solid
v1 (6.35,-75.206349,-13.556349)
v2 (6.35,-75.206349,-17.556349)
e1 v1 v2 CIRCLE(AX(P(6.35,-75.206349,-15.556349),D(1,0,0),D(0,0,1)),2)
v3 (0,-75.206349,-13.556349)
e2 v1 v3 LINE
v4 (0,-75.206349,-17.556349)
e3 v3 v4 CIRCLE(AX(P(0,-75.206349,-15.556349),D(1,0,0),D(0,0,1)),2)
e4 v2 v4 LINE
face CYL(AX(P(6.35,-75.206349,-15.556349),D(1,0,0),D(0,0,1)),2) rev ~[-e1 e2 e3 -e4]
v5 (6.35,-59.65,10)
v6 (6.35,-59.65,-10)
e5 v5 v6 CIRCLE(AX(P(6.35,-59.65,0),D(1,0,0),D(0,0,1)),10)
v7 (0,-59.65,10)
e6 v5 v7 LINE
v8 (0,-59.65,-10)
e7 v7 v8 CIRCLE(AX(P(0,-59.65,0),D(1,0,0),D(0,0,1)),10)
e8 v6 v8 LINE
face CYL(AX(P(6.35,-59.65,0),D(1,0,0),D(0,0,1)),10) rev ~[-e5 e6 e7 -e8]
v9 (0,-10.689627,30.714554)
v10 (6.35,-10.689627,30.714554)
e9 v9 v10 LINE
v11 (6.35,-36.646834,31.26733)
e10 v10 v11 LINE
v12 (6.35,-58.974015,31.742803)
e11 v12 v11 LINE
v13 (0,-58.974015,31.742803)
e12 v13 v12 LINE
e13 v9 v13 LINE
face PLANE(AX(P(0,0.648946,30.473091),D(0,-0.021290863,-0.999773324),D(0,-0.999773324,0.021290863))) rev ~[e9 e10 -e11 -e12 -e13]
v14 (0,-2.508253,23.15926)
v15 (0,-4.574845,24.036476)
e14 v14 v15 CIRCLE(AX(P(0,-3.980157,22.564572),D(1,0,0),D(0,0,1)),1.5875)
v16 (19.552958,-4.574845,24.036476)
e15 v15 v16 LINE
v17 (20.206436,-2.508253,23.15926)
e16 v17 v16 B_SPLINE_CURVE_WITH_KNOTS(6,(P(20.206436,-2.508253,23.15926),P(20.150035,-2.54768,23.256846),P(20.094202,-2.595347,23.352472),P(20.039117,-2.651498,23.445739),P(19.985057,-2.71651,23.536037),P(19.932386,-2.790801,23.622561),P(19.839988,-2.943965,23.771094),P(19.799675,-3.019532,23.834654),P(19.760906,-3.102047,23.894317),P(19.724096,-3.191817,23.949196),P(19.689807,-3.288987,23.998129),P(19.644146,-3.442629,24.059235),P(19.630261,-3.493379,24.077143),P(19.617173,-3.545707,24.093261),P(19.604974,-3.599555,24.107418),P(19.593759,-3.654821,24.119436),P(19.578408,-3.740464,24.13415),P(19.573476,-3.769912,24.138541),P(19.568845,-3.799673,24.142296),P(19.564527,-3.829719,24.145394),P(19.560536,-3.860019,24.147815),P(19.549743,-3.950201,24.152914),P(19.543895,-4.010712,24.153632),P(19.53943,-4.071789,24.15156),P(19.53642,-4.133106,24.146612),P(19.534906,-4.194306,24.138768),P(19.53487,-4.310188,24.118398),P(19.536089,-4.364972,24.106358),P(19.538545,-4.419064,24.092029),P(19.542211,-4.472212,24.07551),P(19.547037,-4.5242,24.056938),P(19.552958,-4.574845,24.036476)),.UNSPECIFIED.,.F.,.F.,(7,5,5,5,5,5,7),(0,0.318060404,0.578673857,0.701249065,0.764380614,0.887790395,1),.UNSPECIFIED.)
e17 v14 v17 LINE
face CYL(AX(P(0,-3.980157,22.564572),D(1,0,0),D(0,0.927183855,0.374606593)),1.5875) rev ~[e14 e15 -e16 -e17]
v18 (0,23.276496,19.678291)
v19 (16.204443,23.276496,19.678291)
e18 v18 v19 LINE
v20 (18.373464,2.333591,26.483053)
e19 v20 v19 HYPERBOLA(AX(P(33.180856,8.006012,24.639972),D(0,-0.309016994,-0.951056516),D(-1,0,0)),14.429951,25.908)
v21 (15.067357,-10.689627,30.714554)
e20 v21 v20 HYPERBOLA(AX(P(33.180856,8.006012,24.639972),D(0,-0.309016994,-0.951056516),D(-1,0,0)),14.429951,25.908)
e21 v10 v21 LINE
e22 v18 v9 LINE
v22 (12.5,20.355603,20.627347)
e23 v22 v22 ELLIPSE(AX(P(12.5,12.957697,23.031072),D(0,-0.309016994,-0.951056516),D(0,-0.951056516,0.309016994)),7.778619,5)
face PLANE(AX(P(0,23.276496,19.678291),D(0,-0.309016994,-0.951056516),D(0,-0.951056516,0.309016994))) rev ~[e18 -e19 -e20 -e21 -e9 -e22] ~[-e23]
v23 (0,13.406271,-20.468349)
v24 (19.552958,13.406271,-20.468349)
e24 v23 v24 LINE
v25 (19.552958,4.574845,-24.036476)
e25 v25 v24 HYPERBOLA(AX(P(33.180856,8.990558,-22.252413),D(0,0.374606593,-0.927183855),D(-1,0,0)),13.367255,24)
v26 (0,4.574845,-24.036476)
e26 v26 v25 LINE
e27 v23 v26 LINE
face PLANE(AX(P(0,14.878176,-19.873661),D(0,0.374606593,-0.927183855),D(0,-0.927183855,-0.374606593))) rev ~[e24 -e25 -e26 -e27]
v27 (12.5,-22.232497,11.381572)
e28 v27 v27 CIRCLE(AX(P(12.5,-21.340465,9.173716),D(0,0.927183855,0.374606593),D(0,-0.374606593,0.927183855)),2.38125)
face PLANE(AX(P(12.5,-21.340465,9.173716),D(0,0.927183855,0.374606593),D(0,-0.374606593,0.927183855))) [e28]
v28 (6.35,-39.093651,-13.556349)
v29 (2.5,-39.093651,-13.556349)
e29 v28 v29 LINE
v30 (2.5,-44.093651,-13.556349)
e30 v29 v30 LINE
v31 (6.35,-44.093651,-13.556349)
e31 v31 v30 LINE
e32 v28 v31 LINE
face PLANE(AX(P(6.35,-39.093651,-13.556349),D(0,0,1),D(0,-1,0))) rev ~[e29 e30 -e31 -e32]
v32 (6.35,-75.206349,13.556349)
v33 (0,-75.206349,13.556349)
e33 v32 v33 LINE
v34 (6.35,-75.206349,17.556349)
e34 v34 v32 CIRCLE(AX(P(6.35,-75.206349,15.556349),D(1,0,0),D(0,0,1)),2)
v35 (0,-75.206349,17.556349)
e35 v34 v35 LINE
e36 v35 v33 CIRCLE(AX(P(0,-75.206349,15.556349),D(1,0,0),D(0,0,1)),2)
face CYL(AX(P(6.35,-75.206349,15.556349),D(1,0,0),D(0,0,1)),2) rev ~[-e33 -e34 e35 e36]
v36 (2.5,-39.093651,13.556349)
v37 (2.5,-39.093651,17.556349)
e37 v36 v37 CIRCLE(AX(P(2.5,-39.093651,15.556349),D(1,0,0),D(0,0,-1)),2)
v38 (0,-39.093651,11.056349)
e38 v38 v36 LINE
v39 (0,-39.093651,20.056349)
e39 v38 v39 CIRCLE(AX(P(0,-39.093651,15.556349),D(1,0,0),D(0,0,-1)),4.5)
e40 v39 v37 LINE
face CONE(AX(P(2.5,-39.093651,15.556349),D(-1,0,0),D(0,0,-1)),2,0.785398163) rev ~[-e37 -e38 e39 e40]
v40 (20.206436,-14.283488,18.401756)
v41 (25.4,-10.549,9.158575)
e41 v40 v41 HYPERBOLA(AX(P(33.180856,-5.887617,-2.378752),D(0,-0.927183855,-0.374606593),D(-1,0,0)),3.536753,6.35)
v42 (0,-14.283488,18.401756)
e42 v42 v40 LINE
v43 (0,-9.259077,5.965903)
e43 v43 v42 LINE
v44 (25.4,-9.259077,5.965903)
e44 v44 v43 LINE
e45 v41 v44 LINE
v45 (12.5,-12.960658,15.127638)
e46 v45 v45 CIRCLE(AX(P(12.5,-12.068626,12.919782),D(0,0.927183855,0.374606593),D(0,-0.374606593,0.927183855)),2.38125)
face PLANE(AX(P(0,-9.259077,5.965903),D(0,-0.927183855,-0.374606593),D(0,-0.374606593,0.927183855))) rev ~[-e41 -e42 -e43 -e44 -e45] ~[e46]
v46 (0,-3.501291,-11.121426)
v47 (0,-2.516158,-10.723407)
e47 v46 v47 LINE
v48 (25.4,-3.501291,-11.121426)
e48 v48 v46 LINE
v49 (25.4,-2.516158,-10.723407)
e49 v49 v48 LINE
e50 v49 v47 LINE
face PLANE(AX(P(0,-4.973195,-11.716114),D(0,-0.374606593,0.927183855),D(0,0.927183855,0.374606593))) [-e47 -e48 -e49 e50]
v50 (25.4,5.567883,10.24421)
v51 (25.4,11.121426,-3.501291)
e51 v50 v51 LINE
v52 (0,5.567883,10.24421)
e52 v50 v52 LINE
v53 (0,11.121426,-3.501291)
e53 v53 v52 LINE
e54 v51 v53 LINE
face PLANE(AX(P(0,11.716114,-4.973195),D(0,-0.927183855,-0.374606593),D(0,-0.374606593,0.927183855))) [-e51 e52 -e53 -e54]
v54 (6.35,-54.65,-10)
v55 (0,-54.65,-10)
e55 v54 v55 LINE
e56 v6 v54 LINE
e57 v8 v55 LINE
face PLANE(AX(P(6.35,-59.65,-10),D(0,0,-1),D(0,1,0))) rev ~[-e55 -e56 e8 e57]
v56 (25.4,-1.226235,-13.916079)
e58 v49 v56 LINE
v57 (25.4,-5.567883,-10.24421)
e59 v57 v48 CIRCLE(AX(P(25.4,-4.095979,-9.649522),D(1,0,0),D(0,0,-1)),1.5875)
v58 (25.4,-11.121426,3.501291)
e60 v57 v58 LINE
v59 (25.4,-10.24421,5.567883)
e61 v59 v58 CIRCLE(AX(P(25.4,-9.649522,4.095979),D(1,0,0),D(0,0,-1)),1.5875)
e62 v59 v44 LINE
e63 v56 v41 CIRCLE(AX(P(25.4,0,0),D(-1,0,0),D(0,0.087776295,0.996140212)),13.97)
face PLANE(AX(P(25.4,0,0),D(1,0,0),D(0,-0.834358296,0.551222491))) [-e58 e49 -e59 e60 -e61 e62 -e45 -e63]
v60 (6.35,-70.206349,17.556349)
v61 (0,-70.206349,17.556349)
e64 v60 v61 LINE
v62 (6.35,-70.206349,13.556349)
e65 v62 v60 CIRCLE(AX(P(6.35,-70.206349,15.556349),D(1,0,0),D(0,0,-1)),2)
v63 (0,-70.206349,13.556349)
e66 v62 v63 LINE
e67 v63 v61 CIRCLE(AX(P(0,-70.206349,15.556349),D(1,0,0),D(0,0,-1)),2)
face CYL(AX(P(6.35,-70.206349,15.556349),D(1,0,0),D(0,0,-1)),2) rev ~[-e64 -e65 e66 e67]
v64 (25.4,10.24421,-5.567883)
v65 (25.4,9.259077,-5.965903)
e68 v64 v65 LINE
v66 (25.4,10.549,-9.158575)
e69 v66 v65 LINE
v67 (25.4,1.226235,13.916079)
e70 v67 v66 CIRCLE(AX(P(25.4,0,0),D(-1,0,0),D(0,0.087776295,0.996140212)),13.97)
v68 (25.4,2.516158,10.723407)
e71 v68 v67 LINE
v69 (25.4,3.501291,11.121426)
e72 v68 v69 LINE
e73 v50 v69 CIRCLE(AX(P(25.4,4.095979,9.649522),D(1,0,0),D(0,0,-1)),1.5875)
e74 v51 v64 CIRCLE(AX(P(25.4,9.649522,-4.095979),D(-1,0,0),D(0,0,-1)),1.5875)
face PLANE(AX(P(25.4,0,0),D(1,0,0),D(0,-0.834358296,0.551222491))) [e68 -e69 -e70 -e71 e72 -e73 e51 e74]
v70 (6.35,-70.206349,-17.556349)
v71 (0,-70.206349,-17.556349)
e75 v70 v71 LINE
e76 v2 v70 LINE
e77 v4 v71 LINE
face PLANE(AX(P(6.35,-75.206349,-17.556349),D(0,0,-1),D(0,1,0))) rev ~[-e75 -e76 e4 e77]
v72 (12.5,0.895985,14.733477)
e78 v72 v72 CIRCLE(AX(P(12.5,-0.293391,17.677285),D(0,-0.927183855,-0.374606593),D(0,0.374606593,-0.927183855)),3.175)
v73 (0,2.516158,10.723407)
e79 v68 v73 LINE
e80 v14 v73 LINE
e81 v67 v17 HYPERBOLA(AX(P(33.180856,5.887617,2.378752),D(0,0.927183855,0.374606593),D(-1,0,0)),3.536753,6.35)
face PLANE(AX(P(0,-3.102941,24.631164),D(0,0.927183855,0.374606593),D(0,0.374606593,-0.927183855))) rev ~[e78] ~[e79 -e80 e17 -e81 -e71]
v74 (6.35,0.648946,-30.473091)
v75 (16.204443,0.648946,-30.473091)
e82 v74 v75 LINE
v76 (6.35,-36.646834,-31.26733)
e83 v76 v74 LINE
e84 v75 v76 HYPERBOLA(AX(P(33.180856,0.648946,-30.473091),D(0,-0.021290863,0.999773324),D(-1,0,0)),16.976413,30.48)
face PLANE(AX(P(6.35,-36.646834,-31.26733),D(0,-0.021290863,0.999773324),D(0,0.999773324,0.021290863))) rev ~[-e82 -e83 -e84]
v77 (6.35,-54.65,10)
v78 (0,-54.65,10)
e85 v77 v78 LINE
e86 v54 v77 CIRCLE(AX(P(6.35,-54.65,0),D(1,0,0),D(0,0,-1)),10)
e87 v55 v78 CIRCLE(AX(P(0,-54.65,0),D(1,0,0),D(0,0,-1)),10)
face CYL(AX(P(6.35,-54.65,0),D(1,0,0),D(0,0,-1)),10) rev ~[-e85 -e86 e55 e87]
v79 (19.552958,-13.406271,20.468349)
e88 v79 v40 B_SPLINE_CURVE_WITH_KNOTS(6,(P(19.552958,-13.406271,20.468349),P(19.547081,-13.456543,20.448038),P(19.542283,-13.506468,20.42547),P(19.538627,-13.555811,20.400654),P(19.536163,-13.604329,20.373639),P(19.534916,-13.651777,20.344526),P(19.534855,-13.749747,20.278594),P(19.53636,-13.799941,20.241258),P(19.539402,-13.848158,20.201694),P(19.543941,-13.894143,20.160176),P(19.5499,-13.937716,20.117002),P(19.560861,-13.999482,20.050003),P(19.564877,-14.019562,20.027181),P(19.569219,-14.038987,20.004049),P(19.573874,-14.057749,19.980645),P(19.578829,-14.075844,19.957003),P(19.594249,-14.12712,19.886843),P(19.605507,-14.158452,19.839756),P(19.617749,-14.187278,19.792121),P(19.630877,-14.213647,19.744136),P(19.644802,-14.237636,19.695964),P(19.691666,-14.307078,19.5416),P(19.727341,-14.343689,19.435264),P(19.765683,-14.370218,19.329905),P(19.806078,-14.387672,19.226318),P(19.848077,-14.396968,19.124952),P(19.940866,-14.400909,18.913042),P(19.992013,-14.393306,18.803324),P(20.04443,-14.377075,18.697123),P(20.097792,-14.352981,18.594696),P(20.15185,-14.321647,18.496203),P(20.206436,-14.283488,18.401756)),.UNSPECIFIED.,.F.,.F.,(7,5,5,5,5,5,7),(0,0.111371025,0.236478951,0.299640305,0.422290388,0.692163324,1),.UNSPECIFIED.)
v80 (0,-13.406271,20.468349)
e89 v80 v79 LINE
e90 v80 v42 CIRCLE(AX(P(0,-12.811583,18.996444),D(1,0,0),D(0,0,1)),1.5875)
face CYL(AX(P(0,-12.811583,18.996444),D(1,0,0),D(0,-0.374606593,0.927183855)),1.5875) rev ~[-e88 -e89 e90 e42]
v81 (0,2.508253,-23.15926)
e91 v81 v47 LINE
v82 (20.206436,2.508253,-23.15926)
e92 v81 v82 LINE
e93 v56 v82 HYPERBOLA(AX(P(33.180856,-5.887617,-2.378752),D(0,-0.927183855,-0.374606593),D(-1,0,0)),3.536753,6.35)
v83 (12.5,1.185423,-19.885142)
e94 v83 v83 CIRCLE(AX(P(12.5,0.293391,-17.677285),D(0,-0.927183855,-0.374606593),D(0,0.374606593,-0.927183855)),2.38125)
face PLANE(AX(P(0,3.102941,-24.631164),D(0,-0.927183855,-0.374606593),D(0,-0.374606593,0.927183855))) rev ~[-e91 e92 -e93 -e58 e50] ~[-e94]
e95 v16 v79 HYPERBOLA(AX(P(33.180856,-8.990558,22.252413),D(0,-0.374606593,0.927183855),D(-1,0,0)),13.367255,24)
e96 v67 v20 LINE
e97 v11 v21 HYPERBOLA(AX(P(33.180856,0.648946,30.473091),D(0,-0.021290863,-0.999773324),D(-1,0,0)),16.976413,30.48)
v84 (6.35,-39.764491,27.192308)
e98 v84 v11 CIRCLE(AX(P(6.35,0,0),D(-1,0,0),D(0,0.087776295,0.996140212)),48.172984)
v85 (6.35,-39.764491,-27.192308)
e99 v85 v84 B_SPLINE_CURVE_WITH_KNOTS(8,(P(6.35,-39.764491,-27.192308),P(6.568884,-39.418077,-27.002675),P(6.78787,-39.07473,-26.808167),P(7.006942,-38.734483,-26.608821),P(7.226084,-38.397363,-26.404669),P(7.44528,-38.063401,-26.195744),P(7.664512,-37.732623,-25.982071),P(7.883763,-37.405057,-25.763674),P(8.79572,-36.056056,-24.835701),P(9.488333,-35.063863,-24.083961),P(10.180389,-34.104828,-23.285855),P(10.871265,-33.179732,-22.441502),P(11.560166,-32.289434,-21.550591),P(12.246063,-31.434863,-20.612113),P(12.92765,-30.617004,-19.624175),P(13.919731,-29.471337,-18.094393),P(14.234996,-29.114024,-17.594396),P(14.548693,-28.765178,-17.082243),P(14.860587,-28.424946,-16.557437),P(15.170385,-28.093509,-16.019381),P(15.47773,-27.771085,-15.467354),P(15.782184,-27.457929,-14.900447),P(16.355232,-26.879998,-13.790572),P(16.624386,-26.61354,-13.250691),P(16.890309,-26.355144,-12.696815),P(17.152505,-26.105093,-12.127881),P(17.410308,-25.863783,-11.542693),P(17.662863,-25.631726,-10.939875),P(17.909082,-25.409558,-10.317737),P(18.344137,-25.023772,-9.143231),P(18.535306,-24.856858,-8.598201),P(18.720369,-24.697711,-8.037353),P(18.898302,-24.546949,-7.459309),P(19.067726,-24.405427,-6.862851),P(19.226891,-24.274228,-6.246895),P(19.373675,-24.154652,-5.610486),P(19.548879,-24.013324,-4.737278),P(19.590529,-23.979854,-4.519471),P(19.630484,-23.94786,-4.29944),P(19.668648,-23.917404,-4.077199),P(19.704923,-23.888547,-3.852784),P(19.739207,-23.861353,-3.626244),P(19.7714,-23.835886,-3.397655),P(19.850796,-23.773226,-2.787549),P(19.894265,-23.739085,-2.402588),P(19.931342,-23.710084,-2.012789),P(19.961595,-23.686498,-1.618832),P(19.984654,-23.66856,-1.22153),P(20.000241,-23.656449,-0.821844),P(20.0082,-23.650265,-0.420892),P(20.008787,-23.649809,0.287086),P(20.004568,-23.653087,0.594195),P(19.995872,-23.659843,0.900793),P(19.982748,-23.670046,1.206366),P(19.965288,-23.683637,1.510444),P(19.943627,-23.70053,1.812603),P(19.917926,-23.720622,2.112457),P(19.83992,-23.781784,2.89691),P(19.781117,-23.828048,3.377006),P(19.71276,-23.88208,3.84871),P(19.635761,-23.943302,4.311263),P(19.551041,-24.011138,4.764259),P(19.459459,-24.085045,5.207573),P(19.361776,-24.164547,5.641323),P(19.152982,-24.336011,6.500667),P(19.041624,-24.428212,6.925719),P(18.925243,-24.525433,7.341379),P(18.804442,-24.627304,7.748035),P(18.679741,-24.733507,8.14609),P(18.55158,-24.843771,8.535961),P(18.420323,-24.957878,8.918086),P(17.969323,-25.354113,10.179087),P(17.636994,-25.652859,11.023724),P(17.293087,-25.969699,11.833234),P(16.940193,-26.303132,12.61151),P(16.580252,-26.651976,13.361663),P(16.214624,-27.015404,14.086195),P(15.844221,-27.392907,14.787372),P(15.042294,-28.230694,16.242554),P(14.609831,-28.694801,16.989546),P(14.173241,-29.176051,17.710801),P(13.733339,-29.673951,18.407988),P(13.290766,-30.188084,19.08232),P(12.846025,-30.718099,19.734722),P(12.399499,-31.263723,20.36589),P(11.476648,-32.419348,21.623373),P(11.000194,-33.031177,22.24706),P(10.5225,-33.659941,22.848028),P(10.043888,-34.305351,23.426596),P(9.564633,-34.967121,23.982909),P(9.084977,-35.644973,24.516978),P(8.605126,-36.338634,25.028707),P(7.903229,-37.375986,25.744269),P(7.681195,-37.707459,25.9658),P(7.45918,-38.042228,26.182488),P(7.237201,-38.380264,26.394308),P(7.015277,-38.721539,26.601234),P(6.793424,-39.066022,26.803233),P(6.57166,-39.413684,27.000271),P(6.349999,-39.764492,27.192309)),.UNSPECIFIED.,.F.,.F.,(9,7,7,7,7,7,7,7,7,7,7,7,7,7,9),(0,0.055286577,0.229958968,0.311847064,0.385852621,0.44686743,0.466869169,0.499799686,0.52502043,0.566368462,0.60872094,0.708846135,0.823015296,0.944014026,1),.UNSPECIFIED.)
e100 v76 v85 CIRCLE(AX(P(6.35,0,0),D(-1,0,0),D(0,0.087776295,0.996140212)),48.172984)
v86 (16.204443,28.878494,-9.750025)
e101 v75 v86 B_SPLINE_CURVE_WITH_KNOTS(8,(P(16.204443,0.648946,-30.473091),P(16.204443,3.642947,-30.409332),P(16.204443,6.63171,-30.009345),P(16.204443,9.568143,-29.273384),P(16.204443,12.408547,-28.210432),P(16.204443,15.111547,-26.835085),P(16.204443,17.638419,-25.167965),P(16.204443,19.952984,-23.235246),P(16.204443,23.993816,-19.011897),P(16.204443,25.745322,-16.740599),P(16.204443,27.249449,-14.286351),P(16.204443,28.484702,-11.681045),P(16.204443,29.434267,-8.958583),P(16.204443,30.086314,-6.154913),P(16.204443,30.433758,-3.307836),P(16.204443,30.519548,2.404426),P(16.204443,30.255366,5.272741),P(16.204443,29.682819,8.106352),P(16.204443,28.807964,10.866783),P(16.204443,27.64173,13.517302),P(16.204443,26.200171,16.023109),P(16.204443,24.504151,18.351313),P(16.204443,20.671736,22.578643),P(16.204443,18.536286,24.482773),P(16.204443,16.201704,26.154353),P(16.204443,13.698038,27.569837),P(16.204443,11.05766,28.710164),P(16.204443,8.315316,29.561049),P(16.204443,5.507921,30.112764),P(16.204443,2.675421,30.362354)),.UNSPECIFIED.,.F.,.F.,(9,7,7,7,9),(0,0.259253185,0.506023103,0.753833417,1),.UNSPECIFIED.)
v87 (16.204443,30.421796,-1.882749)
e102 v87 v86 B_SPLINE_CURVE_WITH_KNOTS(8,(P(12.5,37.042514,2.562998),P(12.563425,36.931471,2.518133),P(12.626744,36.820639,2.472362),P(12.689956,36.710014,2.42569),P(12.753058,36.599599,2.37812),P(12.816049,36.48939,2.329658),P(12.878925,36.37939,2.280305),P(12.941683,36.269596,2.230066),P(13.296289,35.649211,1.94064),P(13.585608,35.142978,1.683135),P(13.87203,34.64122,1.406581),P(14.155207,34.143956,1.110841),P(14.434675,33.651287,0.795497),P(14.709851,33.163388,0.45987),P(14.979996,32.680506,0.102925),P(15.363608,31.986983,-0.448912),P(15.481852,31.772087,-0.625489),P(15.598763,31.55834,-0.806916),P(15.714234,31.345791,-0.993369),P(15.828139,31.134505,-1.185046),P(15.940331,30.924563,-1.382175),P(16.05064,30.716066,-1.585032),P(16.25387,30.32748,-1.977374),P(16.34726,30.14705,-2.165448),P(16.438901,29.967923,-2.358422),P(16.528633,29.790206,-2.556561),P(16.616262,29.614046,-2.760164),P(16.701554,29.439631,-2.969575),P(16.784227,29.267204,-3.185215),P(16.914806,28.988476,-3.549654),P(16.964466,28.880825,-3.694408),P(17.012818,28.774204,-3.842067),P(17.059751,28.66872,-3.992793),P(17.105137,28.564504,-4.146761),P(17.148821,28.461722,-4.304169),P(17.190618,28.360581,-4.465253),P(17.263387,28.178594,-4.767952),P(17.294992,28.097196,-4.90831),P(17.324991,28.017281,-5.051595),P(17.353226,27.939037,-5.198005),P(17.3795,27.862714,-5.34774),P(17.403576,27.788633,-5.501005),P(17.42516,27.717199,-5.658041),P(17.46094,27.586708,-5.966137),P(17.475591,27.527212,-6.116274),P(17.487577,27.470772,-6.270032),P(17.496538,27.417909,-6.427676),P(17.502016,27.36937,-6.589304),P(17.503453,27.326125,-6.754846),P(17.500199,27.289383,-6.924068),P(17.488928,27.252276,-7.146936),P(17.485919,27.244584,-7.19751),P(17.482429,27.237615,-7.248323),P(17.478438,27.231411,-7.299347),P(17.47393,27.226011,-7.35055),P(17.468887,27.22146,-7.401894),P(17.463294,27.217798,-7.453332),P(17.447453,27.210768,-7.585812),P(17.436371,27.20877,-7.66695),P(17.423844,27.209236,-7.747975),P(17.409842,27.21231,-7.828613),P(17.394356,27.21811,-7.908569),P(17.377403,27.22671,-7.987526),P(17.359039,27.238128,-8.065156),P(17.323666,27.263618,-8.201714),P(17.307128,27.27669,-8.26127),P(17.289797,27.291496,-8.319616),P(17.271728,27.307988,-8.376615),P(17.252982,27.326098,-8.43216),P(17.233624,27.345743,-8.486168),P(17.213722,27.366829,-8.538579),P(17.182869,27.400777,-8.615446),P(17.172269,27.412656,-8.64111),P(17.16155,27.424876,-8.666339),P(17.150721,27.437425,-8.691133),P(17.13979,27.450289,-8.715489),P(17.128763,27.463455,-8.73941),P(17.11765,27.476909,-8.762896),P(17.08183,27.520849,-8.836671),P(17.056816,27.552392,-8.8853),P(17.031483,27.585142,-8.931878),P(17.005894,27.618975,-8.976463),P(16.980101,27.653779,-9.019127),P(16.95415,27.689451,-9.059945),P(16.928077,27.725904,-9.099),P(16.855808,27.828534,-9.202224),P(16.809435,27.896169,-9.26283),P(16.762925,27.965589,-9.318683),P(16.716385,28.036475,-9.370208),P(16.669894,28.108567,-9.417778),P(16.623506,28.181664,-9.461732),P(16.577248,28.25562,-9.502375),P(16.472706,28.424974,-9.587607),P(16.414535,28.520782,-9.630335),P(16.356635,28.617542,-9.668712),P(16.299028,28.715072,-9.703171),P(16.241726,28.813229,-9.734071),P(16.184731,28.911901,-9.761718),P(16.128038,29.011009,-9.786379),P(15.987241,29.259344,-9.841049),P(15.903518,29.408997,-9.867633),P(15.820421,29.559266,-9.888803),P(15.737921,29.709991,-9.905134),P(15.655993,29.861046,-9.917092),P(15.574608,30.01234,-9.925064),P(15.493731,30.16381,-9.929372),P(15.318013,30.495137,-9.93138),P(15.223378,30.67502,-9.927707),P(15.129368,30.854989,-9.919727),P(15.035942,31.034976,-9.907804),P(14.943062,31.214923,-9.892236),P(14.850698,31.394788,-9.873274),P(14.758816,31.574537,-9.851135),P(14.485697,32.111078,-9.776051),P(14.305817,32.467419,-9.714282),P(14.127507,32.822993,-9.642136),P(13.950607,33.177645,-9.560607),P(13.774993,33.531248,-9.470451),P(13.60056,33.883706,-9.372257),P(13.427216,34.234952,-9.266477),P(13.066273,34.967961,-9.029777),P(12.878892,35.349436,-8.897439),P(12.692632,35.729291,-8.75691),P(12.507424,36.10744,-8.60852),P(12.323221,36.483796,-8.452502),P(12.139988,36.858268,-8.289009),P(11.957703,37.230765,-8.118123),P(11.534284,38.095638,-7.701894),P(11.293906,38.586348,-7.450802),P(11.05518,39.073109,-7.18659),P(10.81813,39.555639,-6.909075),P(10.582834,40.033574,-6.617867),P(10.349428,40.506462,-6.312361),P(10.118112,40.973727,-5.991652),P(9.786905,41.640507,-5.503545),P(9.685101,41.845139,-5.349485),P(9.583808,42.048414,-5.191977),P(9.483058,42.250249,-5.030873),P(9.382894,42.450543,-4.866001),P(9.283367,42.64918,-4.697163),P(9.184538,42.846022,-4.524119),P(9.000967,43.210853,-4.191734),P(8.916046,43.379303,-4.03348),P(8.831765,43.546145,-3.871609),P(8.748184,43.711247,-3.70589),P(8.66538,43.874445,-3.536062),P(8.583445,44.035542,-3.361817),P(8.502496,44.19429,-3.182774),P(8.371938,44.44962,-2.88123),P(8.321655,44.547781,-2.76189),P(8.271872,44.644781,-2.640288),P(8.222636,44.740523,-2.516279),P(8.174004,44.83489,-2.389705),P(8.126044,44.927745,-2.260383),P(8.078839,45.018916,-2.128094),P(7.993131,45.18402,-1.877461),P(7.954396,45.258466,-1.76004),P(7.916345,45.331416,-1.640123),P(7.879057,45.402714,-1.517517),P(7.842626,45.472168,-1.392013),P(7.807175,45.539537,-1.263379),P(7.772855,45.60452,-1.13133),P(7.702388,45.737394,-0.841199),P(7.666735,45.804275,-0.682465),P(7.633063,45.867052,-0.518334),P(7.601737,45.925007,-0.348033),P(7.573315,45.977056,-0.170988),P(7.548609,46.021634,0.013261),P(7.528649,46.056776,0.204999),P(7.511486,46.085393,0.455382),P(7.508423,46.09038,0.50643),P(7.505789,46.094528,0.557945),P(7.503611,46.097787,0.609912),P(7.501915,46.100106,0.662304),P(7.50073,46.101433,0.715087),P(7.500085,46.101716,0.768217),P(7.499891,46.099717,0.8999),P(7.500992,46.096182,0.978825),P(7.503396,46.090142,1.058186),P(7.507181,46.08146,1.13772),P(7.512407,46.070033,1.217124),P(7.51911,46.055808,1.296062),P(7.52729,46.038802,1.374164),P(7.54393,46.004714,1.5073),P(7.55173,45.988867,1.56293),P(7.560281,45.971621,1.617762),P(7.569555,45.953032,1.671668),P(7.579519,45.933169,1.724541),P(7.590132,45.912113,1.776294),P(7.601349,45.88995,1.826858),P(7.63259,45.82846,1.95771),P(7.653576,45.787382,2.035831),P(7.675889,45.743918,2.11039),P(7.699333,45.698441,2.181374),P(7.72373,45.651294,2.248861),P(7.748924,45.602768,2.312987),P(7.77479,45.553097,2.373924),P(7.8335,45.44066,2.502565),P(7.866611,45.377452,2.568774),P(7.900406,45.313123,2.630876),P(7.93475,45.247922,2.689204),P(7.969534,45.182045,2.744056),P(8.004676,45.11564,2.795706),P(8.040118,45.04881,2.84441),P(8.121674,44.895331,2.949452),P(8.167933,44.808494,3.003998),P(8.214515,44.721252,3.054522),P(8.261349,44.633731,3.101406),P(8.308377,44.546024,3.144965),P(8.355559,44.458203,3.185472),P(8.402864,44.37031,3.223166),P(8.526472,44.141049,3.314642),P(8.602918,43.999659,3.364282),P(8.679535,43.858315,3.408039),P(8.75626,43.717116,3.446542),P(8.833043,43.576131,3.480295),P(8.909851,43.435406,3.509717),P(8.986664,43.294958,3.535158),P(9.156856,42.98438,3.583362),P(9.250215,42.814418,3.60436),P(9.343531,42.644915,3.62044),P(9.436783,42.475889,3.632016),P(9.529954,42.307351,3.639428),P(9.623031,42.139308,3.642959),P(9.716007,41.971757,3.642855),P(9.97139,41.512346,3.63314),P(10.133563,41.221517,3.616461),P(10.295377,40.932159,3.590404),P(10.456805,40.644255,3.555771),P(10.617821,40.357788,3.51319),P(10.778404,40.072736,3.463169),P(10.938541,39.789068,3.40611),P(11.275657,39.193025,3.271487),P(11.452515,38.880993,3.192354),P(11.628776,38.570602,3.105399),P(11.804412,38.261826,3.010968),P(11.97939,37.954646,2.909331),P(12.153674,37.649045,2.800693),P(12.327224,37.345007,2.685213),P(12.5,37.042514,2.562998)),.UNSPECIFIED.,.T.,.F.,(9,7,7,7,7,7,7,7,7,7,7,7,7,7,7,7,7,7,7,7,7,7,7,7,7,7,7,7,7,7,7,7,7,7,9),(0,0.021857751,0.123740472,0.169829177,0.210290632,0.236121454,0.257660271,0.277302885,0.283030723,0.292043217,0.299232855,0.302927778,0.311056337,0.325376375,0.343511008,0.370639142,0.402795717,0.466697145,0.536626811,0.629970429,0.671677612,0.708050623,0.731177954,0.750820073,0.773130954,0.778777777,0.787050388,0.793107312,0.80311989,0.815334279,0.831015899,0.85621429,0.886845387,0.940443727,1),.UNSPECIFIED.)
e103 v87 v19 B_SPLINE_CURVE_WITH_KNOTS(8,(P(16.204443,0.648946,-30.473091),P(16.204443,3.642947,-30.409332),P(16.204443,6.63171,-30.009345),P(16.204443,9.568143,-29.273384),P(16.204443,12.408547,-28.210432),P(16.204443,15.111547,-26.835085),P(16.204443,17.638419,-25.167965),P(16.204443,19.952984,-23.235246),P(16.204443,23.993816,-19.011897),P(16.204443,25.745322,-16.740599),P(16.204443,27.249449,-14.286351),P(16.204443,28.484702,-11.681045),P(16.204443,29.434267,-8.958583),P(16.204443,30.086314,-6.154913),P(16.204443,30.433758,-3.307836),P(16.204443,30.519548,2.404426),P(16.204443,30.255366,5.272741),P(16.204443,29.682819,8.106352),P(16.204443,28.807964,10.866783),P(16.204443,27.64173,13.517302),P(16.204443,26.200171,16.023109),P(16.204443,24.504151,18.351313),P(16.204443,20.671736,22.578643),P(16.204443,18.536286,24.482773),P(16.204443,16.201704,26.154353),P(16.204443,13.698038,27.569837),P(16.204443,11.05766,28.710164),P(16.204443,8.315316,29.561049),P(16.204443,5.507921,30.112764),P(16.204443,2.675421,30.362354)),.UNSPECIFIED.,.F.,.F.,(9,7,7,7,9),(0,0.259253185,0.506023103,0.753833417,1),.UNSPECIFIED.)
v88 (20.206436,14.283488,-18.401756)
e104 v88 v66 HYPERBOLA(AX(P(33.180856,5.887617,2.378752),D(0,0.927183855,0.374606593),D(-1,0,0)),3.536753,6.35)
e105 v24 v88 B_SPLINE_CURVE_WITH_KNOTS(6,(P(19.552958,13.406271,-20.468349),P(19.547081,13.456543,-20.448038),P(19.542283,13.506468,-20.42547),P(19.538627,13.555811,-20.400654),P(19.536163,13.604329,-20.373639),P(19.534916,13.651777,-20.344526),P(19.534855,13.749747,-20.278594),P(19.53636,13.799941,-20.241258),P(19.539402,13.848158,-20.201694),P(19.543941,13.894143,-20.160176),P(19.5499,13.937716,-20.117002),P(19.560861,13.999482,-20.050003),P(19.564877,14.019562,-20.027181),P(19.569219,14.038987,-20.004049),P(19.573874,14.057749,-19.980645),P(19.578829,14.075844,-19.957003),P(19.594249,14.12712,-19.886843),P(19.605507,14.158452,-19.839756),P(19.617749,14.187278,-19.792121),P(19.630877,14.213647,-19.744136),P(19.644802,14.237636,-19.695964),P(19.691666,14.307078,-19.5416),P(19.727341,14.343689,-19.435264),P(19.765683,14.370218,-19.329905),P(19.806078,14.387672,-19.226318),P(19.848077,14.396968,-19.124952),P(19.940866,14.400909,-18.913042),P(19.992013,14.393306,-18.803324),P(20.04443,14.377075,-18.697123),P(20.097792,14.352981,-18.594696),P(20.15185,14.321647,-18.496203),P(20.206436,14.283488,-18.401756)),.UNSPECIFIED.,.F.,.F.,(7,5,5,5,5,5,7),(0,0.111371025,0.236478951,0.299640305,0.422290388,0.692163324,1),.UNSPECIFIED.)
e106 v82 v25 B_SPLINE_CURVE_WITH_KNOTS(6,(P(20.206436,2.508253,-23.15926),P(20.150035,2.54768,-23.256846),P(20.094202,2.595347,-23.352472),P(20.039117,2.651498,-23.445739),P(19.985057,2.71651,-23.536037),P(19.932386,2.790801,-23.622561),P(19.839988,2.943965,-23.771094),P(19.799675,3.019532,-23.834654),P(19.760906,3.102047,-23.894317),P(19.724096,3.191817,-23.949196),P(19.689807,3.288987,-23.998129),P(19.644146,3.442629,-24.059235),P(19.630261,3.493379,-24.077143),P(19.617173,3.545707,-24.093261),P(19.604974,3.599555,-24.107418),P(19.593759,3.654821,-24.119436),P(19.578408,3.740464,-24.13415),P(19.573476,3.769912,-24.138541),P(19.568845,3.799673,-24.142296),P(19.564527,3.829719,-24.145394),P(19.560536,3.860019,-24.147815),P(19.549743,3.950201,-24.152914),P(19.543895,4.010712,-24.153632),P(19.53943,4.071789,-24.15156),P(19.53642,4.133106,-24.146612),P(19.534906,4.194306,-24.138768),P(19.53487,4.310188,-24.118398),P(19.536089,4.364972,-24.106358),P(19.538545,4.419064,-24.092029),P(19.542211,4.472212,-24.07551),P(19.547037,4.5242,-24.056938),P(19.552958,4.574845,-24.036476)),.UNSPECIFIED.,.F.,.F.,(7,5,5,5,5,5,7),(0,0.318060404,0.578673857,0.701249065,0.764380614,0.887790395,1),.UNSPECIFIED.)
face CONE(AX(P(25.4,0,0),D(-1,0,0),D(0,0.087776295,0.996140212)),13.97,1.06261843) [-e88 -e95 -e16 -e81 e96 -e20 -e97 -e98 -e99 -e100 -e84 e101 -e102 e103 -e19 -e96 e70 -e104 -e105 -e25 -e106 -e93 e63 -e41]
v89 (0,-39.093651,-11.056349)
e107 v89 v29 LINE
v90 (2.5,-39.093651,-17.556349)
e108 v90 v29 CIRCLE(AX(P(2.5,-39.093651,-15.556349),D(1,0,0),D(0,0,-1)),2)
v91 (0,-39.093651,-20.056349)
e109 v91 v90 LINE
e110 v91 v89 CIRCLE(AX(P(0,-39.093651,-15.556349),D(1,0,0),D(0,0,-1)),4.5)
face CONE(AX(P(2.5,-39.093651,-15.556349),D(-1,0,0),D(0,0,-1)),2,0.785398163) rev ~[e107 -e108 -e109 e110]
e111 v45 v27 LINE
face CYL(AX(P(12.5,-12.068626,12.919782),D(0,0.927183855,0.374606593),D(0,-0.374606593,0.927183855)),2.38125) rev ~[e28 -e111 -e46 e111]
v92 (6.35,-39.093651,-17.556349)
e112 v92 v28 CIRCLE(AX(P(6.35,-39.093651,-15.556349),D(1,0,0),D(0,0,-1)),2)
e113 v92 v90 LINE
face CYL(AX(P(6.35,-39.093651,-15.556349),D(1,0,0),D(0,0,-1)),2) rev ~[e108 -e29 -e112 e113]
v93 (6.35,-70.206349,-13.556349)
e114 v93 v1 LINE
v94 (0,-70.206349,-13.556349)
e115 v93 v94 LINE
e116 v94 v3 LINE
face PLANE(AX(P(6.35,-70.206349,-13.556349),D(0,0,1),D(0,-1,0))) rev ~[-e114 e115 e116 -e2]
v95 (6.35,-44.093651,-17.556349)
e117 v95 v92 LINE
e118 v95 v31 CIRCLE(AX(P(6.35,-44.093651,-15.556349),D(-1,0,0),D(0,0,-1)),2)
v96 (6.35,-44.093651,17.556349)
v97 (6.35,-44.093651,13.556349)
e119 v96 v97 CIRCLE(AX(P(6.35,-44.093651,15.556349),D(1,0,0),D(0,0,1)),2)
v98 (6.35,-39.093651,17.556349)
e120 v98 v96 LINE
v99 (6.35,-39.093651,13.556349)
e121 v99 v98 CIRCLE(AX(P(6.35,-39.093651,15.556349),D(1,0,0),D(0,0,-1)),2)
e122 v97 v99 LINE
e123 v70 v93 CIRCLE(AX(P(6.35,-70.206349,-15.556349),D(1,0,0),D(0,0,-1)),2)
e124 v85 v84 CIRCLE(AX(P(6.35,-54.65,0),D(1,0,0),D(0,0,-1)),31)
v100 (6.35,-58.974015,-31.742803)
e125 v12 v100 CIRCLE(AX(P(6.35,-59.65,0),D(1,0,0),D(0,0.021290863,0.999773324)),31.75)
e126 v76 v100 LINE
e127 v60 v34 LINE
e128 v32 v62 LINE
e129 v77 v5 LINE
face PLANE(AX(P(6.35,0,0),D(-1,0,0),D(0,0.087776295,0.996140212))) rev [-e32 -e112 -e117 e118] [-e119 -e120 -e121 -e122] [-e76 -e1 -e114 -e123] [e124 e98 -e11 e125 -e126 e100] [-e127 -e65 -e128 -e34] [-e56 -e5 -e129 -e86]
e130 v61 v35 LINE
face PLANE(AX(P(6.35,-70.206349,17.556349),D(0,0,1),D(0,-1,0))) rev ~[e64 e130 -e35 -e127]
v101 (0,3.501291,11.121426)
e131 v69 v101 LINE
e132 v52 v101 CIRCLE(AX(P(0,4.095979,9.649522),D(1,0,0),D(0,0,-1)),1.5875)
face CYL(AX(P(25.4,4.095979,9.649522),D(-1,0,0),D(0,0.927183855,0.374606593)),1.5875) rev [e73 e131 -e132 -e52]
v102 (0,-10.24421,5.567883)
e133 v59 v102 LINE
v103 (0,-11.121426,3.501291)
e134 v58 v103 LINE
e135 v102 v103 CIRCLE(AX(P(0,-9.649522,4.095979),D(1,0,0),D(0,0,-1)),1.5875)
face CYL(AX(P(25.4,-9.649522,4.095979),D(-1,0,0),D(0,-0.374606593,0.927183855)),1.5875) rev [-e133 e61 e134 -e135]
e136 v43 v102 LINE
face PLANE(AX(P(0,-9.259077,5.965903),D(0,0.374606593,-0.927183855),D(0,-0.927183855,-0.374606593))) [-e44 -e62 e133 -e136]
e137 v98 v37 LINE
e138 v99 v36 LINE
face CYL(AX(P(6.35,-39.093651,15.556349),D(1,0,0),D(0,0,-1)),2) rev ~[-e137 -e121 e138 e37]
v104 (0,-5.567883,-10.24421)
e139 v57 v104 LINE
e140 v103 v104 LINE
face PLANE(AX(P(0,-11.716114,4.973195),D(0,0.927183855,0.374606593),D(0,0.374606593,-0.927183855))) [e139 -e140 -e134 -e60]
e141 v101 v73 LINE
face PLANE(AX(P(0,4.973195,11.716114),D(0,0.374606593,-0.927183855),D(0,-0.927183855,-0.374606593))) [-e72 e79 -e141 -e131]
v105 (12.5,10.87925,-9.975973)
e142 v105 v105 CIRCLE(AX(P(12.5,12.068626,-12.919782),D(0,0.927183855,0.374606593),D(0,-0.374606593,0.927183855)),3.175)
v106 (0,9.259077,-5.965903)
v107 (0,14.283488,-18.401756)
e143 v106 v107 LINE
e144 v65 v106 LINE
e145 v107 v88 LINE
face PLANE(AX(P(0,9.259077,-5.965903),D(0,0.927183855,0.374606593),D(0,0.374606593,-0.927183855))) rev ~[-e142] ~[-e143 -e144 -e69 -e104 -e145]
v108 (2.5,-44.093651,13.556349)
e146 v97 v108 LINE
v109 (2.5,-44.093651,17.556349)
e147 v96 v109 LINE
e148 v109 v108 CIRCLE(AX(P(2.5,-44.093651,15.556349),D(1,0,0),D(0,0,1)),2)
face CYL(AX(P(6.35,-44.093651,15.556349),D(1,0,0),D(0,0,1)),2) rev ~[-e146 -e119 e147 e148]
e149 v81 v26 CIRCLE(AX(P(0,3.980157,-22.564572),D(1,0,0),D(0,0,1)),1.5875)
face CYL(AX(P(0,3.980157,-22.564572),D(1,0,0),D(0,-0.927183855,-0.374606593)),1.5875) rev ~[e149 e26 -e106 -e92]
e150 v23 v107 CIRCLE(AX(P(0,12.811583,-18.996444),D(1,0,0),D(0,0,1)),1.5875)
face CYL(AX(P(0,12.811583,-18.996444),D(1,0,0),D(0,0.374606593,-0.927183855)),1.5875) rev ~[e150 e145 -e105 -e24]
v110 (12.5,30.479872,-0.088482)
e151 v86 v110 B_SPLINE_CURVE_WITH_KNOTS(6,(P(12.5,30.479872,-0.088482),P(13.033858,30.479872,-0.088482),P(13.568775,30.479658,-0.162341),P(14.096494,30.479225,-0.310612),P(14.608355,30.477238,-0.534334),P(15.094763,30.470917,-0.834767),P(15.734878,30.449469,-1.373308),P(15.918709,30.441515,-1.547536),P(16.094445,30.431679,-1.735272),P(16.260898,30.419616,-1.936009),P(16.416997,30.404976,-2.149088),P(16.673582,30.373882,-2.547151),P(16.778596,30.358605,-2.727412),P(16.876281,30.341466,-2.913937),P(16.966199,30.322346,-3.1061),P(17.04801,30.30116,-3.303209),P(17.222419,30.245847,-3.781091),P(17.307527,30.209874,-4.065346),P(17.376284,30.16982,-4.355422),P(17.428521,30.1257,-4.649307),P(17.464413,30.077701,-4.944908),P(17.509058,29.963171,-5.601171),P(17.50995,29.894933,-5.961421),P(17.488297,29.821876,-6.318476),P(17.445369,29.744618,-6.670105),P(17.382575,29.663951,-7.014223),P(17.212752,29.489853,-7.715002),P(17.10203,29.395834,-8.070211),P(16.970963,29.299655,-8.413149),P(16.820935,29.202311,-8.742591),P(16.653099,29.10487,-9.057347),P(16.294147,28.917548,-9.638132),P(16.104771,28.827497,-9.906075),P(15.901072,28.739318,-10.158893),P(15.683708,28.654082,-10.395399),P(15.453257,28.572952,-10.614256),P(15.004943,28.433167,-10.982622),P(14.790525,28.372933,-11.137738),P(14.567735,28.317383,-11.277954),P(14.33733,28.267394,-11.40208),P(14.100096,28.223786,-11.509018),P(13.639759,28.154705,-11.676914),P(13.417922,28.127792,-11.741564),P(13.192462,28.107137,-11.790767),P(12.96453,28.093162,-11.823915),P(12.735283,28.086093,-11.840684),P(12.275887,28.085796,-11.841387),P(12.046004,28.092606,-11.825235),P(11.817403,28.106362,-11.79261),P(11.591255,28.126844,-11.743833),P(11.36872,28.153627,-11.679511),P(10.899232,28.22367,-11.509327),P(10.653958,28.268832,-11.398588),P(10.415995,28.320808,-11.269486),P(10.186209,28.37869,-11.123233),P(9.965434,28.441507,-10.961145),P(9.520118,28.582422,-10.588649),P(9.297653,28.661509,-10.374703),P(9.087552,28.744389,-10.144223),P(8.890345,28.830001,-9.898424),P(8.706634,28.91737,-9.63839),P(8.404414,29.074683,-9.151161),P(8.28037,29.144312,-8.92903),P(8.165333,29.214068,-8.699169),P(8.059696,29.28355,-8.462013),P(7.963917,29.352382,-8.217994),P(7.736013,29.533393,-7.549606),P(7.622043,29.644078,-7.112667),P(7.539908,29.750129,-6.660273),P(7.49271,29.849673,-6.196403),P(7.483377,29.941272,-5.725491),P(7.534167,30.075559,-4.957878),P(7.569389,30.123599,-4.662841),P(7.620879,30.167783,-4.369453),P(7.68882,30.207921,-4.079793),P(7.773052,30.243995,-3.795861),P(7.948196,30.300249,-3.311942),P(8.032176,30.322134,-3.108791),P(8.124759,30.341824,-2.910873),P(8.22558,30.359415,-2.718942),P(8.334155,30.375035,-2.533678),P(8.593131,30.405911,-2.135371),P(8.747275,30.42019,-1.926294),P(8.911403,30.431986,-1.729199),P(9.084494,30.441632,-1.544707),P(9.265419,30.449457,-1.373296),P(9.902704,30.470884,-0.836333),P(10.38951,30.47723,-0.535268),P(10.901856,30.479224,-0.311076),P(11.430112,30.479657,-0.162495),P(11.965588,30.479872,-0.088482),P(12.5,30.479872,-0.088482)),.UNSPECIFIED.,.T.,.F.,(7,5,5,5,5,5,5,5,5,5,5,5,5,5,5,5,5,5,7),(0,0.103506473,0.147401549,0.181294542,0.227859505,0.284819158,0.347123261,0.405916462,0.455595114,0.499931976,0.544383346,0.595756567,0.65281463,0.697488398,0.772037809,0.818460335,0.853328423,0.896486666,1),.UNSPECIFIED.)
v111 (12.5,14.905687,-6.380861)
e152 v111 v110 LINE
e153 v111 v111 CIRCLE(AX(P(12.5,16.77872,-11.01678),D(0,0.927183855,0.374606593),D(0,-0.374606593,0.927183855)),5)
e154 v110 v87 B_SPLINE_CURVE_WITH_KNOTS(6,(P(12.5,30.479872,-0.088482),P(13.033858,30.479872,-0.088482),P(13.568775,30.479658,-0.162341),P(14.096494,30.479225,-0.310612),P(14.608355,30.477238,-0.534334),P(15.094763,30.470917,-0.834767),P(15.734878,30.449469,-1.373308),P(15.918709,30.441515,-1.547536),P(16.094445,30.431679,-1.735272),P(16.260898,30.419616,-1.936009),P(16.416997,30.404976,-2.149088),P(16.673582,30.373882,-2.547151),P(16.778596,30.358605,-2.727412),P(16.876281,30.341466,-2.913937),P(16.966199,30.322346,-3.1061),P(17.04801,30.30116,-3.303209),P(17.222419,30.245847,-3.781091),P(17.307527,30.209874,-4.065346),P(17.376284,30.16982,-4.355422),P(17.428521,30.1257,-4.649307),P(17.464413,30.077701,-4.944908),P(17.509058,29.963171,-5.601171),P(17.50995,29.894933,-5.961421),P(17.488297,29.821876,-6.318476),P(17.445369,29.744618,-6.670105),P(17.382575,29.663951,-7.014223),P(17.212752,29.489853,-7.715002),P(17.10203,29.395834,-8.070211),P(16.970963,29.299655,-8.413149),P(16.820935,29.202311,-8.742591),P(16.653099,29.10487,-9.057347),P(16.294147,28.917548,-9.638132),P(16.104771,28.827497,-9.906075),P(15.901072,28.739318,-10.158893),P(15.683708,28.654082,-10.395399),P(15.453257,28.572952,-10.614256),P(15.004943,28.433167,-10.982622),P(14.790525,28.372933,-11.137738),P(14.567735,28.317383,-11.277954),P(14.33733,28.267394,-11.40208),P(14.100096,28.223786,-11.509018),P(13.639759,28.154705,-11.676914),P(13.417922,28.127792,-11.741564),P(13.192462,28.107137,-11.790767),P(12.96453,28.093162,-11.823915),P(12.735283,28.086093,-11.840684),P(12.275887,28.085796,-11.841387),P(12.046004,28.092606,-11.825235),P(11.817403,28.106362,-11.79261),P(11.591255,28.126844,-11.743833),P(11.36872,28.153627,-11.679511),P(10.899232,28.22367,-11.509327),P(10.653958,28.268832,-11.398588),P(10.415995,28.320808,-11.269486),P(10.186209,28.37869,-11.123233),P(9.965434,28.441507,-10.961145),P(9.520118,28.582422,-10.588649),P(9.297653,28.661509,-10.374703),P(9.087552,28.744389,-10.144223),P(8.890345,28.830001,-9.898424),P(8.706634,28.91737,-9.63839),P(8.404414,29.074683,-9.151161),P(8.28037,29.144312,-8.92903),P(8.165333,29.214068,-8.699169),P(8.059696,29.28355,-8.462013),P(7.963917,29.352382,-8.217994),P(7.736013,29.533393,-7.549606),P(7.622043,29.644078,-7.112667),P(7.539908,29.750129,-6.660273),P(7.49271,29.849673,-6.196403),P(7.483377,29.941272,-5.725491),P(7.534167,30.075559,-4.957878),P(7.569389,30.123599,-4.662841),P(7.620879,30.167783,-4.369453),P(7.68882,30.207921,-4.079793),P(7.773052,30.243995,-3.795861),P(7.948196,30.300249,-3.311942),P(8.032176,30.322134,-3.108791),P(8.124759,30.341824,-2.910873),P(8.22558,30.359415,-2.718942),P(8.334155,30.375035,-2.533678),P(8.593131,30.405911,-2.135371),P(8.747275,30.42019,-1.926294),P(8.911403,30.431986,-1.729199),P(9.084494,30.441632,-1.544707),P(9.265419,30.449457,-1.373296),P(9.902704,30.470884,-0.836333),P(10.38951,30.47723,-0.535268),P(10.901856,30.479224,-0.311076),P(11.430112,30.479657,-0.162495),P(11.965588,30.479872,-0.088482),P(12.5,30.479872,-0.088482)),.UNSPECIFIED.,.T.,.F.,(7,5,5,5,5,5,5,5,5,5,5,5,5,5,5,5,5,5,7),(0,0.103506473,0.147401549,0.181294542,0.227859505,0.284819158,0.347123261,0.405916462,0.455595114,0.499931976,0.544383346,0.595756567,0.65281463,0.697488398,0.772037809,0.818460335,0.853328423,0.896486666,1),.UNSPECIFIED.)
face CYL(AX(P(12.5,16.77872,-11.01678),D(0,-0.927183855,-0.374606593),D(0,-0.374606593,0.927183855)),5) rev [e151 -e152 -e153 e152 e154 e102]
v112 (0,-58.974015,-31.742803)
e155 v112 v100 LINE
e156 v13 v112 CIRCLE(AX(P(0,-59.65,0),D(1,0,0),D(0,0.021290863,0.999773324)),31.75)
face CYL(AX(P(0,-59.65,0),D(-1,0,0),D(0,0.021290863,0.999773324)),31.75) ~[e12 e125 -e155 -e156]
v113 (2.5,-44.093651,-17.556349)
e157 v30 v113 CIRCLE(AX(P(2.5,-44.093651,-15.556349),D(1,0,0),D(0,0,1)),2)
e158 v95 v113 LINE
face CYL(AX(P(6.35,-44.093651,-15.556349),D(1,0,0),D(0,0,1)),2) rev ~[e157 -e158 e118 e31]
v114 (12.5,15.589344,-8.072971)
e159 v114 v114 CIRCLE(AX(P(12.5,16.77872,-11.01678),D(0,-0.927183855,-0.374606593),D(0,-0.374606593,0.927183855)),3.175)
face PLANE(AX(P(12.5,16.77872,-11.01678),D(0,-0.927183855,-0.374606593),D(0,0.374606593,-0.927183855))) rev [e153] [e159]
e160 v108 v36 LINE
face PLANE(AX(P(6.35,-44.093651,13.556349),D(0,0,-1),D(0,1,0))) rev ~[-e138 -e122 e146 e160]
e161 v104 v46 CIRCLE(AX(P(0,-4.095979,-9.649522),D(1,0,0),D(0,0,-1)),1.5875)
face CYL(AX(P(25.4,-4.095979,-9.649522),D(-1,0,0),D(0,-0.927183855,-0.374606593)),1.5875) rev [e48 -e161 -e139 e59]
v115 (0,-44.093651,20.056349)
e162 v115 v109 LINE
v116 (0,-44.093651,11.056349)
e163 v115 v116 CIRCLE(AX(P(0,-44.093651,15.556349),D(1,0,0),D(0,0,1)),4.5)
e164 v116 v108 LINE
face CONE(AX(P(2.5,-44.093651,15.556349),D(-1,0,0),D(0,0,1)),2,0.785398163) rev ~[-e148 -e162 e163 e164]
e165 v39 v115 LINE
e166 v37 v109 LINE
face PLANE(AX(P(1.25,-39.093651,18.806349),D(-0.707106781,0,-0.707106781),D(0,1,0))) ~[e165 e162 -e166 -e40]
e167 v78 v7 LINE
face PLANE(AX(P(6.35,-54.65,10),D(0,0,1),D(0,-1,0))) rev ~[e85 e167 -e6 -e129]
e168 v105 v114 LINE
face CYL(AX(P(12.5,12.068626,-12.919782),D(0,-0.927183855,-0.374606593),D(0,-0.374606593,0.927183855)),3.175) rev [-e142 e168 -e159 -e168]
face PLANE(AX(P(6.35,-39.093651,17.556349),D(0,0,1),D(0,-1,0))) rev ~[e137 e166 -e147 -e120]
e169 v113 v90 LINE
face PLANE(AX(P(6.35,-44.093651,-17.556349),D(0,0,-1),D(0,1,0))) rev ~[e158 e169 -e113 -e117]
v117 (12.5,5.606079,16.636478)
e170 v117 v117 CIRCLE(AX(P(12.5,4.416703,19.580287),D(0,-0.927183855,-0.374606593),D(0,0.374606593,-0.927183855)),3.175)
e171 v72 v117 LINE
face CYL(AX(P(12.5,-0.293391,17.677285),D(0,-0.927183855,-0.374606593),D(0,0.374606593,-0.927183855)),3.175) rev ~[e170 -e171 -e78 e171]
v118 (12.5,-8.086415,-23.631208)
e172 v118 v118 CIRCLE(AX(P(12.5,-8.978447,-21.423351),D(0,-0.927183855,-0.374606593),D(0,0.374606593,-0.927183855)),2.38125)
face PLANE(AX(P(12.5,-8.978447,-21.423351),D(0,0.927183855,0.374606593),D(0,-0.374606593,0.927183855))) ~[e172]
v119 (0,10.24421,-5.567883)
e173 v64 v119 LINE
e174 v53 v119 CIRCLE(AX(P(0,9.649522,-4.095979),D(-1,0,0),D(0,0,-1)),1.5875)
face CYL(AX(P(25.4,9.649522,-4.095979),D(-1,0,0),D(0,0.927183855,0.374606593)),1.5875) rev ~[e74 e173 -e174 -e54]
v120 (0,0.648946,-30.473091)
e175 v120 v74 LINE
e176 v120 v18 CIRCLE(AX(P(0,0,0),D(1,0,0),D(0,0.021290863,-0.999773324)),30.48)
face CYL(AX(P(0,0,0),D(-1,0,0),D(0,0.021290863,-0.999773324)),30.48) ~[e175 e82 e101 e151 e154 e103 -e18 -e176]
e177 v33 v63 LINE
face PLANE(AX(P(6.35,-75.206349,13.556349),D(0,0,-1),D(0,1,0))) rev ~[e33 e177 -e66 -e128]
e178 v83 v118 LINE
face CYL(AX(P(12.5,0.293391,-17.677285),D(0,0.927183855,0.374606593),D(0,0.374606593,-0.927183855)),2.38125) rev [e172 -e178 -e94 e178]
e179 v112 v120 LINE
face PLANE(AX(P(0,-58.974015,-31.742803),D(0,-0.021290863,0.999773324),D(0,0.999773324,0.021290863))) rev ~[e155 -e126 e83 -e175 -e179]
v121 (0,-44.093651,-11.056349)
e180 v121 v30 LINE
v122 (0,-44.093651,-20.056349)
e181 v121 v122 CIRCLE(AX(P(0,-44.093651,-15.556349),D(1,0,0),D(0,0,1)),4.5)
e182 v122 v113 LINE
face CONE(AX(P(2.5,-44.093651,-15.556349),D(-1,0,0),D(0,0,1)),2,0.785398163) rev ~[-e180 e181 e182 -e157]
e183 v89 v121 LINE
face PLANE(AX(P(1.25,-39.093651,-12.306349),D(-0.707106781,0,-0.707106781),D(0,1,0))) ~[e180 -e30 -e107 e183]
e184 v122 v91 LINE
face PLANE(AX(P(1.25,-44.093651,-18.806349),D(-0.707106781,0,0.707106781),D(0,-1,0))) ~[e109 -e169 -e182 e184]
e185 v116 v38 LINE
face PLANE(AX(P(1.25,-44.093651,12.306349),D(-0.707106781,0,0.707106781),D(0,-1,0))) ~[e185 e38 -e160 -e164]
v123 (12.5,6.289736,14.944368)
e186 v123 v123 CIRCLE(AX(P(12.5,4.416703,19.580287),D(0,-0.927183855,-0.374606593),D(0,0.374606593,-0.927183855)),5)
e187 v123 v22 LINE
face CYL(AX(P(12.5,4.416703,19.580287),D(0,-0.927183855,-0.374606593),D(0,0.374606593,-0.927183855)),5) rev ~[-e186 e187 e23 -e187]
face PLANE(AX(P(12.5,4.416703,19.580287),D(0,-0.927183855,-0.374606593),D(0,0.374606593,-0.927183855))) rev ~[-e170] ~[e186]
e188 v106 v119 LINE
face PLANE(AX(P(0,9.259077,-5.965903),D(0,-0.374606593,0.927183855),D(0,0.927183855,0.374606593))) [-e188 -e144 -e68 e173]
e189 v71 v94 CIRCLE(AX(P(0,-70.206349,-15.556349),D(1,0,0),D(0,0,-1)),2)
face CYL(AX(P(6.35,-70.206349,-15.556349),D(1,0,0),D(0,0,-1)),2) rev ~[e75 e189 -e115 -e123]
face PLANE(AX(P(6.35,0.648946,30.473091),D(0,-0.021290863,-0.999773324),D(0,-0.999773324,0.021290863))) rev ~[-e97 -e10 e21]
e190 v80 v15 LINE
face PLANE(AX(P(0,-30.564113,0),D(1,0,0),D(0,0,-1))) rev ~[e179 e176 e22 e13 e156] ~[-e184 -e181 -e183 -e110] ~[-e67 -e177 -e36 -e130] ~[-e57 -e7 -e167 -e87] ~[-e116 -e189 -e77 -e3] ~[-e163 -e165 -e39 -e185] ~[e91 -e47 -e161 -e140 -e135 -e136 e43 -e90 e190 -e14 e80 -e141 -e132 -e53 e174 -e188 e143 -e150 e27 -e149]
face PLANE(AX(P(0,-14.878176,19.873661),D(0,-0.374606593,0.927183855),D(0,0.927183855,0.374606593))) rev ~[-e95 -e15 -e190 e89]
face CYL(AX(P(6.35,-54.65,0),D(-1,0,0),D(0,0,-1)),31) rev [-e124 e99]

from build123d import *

# Parameters (mm, degrees)
BOSS_EXTRUDE1_DEPTH = 6.35
CUT_EXTRUDE18_DEPTH = 10
SKETCH20_R          = 57.15
BOSS_EXTRUDE5_DEPTH = 19.05
CUT_EXTRUDE14_DEPTH = 111.748555295
SKETCH22_R          = 3.175
CUT_EXTRUDE15_DEPTH = 117.849102749
SKETCH24_R          = 5
CUT_EXTRUDE16_DEPTH = 122.747909556
SKETCH25_R          = 2.38125
CUT_EXTRUDE17_DEPTH = 10
CHAMFER2_SIZE       = 2.5
FILLET1_R           = 1.5875
SKETCH28_R          = 31
CUT_EXTRUDE19_DEPTH = 110.466821527
CUT_EXTRUDE20_DEPTH = 106.059501871
CUT_EXTRUDE21_DEPTH = 101.035906079


with BuildPart() as part:
    # Sketch1 → Boss-Extrude1 (new body)
    with BuildSketch(Plane(origin=(0, 0, 0), x_dir=(0, 0, -1), z_dir=(1, 0, 0))):
        with BuildLine():
            Line((-30.473090912, 0.648945516), (-31.742803033, -58.974015088))
            ThreePointArc((-31.742803033, -58.974015088), (0, -91.4), (31.742803033, -58.974015088))
            Line((31.742803033, -58.974015088), (30.473090912, 0.648945516))
            ThreePointArc((30.473090912, 0.648945516), (0, 30.48), (-30.473090912, 0.648945516))
        make_face()
        Polygon((4.97319535, 11.716114032), (-11.716114032, 4.97319535), (-4.97319535, -11.716114032), (11.716114032, -4.97319535), align=None, mode=Mode.SUBTRACT)
    extrude(amount=BOSS_EXTRUDE1_DEPTH)

    # Sketch19 → Cut-Extrude18 (cut)
    with BuildSketch(Plane(origin=(6.35, 0, 0), x_dir=(0, 0, -1), z_dir=(1, 0, 0))):
        with BuildLine():
            Line((13.556349186, -39.093650814), (13.556349186, -44.093650814))
            ThreePointArc((13.556349186, -44.093650814), (15.556349186, -46.093650814), (17.556349186, -44.093650814))
            Line((17.556349186, -44.093650814), (17.556349186, -39.093650814))
            ThreePointArc((17.556349186, -39.093650814), (15.556349186, -37.093650814), (13.556349186, -39.093650814))
        make_face()
        with BuildLine():
            Line((-10, -54.65), (-10, -59.65))
            ThreePointArc((-10, -59.65), (0, -69.65), (10, -59.65))
            Line((10, -59.65), (10, -54.65))
            ThreePointArc((10, -54.65), (0, -44.65), (-10, -54.65))
        make_face()
        with BuildLine():
            Line((17.556349186, -75.206349186), (17.556349186, -70.206349186))
            ThreePointArc((17.556349186, -70.206349186), (15.556349186, -68.206349186), (13.556349186, -70.206349186))
            Line((13.556349186, -70.206349186), (13.556349186, -75.206349186))
            ThreePointArc((13.556349186, -75.206349186), (15.556349186, -77.206349186), (17.556349186, -75.206349186))
        make_face()
        with BuildLine():
            Line((-17.556349186, -39.093650814), (-17.556349186, -44.093650814))
            ThreePointArc((-17.556349186, -44.093650814), (-15.556349186, -46.093650814), (-13.556349186, -44.093650814))
            Line((-13.556349186, -44.093650814), (-13.556349186, -39.093650814))
            ThreePointArc((-13.556349186, -39.093650814), (-15.556349186, -37.093650814), (-17.556349186, -39.093650814))
        make_face()
        with BuildLine():
            Line((-13.556349186, -75.206349186), (-13.556349186, -70.206349186))
            ThreePointArc((-13.556349186, -70.206349186), (-15.556349186, -68.206349186), (-17.556349186, -70.206349186))
            Line((-17.556349186, -70.206349186), (-17.556349186, -75.206349186))
            ThreePointArc((-17.556349186, -75.206349186), (-15.556349186, -77.206349186), (-13.556349186, -75.206349186))
        make_face()
    extrude(amount=-CUT_EXTRUDE18_DEPTH, mode=Mode.SUBTRACT)

    # Sketch20 → Boss-Extrude5 (add)
    with BuildSketch(Plane(origin=(6.35, 0, 0), x_dir=(0, 0, -1), z_dir=(1, 0, 0))):
        with Locations(Location((0, 0, 0), (0, 0, 236.549078571))):
            Circle(SKETCH20_R)
    extrude(amount=BOSS_EXTRUDE5_DEPTH)

    # Sketch21 → Cut-Extrude14 (cut, through all)
    with BuildSketch(Plane.ZY):
        Polygon((-19.873660641, 14.878175718), (-24.631164378, 3.102940765), (-10.723406559, -2.516158136), (-5.965902823, 9.259076817), align=None)
        Polygon((-11.716114032, -4.97319535), (-4.97319535, 11.716114032), (11.716114032, 4.97319535), (4.97319535, -11.716114032), align=None)
        Polygon((10.723406559, 2.516158136), (5.965902823, -9.259076817), (19.873660641, -14.878175718), (24.631164378, -3.102940765), align=None)
    extrude(amount=-CUT_EXTRUDE14_DEPTH, mode=Mode.SUBTRACT)

    # Sketch22 → Cut-Extrude15 (cut, through all)
    with BuildSketch(Plane(origin=(0, 5.887617476, 2.378751868), x_dir=(1, 0, 0), z_dir=(0, -0.9271838545667871, -0.3746065934159129))):
        with Locations(Location((12.5, 16.5, 0), (0, 0, 270))):
            Circle(SKETCH22_R)
    cut_extrude15 = extrude(amount=-CUT_EXTRUDE15_DEPTH, mode=Mode.SUBTRACT)

    # Sketch24 → Cut-Extrude16 (cut, through all)
    with BuildSketch(Plane(origin=(0, 10.597711458, 4.281753363), x_dir=(1, 0, 0), z_dir=(0, -0.9271838545667871, -0.3746065934159129))):
        with Locations(Location((12.5, 16.5, 0), (0, 0, 270))):
            Circle(SKETCH24_R)
    cut_extrude16 = extrude(amount=-CUT_EXTRUDE16_DEPTH, mode=Mode.SUBTRACT)

    # Sketch25 → Cut-Extrude17 (cut)
    with BuildSketch(Plane(origin=(0, -5.887617476, -2.378751868), x_dir=(-1, 0, 0), z_dir=(0, 0.9271838545667864, 0.3746065934159146))):
        with Locations(Location((-12.5, 16.5, 0), (0, 0, 90))):
            Circle(SKETCH25_R)
    cut_extrude17 = extrude(amount=-CUT_EXTRUDE17_DEPTH, mode=Mode.SUBTRACT)

    # Mirror1: Cut-Extrude15, Cut-Extrude16, Cut-Extrude17 across plane
    add(cut_extrude15.mirror(Plane(origin=(0, 0, 0), x_dir=(1, 0, 0), z_dir=(0, 0.37460659341591346, -0.9271838545667869))), mode=Mode.SUBTRACT)
    add(cut_extrude16.mirror(Plane(origin=(0, 0, 0), x_dir=(1, 0, 0), z_dir=(0, 0.37460659341591346, -0.9271838545667869))), mode=Mode.SUBTRACT)
    add(cut_extrude17.mirror(Plane(origin=(0, 0, 0), x_dir=(1, 0, 0), z_dir=(0, 0.37460659341591346, -0.9271838545667869))), mode=Mode.SUBTRACT)


with BuildPart() as body_2:
    # Mirror2: mirrored copy
    add(part.part.mirror(Plane(origin=(0, 0, 0), x_dir=(0, 0, 1), z_dir=(1, 0, 0))))


with BuildPart() as part_1:
    add(part.part)

    # Chamfer2
    chamfer2_edges = [part_1.edges().sort_by_distance(p)[0] for p in [
        (0, -41.593650814, 13.556349186),
        (0, -37.093650814, 15.556349186),
        (0, -41.593650814, 17.556349186),
        (0, -46.093650814, 15.556349186),
        (0, -41.593650814, -17.556349186),
        (0, -37.093650814, -15.556349186),
        (0, -41.593650814, -13.556349186),
        (0, -46.093650814, -15.556349186),
    ]]
    chamfer(chamfer2_edges, length=CHAMFER2_SIZE)

    # Fillet1
    fillet1_edges = [part_1.edges().sort_by_distance(p)[0] for p in [
        (12.7, 3.102940765, -24.631164378),
        (12.7, 14.878175718, -19.873660641),
        (12.7, -3.102940765, 24.631164378),
        (12.7, -14.878175718, 19.873660641),
        (12.7, 11.716114032, -4.97319535),
        (12.7, 4.97319535, 11.716114032),
        (12.7, -11.716114032, 4.97319535),
        (12.7, -4.97319535, -11.716114032),
    ]]
    fillet(fillet1_edges, radius=FILLET1_R)

    # Sketch28 → Cut-Extrude19 (cut, through all)
    with BuildSketch(Plane(origin=(6.35, 0, 0), x_dir=(0, 0, -1), z_dir=(1, 0, 0))):
        with Locations((0, -54.65)):
            Circle(SKETCH28_R)
    extrude(amount=CUT_EXTRUDE19_DEPTH, mode=Mode.SUBTRACT)

    # Sketch31 → Cut-Revolve1 (revolve, cut)
    with BuildSketch(Plane(origin=(0, 0, 0), x_dir=(1, 0, 0), z_dir=(0, 1, 0)), mode=Mode.PRIVATE) as cut_revolve1_sk:
        Polygon((6.35, -58.97), (25.4, -58.97), (25.4, -13.97), (6.35, -48.172984338), align=None)
    revolve(cut_revolve1_sk.sketch.rotate(Axis((25.4, 0, 0), (-1, 0, 0)), 5.035691801), axis=Axis((25.4, 0, 0), (-1, 0, 0)), mode=Mode.SUBTRACT)

    # Sketch32 → Cut-Extrude20 (cut, through all)
    with BuildSketch(Plane.ZY.offset(-6.35)):
        with BuildLine():
            Line((30.473090912, 0.648945516), (31.267330303, -36.646834457))
            ThreePointArc((31.267330303, -36.646834457), (0, 48.172984338), (-31.267330303, -36.646834457))
            Line((-31.267330303, -36.646834457), (-30.473090912, 0.648945516))
            ThreePointArc((-30.473090912, 0.648945516), (0, 30.48), (30.473090912, 0.648945516))
        make_face()
    extrude(amount=-CUT_EXTRUDE20_DEPTH, mode=Mode.SUBTRACT)

    # Sketch33 → Cut-Extrude21 (cut, through all)
    with BuildSketch(Plane.ZY):
        with BuildLine():
            Line((30.714553642, -10.689626936), (30.473090912, 0.648945516))
            ThreePointArc((30.473090912, 0.648945516), (27.509849022, 13.123970694), (19.678291434, 23.276495575))
            Line((19.678291434, 23.276495575), (30.714553642, -10.689626936))
        make_face()
    extrude(amount=-CUT_EXTRUDE21_DEPTH, mode=Mode.SUBTRACT)


solid = part_1.part
